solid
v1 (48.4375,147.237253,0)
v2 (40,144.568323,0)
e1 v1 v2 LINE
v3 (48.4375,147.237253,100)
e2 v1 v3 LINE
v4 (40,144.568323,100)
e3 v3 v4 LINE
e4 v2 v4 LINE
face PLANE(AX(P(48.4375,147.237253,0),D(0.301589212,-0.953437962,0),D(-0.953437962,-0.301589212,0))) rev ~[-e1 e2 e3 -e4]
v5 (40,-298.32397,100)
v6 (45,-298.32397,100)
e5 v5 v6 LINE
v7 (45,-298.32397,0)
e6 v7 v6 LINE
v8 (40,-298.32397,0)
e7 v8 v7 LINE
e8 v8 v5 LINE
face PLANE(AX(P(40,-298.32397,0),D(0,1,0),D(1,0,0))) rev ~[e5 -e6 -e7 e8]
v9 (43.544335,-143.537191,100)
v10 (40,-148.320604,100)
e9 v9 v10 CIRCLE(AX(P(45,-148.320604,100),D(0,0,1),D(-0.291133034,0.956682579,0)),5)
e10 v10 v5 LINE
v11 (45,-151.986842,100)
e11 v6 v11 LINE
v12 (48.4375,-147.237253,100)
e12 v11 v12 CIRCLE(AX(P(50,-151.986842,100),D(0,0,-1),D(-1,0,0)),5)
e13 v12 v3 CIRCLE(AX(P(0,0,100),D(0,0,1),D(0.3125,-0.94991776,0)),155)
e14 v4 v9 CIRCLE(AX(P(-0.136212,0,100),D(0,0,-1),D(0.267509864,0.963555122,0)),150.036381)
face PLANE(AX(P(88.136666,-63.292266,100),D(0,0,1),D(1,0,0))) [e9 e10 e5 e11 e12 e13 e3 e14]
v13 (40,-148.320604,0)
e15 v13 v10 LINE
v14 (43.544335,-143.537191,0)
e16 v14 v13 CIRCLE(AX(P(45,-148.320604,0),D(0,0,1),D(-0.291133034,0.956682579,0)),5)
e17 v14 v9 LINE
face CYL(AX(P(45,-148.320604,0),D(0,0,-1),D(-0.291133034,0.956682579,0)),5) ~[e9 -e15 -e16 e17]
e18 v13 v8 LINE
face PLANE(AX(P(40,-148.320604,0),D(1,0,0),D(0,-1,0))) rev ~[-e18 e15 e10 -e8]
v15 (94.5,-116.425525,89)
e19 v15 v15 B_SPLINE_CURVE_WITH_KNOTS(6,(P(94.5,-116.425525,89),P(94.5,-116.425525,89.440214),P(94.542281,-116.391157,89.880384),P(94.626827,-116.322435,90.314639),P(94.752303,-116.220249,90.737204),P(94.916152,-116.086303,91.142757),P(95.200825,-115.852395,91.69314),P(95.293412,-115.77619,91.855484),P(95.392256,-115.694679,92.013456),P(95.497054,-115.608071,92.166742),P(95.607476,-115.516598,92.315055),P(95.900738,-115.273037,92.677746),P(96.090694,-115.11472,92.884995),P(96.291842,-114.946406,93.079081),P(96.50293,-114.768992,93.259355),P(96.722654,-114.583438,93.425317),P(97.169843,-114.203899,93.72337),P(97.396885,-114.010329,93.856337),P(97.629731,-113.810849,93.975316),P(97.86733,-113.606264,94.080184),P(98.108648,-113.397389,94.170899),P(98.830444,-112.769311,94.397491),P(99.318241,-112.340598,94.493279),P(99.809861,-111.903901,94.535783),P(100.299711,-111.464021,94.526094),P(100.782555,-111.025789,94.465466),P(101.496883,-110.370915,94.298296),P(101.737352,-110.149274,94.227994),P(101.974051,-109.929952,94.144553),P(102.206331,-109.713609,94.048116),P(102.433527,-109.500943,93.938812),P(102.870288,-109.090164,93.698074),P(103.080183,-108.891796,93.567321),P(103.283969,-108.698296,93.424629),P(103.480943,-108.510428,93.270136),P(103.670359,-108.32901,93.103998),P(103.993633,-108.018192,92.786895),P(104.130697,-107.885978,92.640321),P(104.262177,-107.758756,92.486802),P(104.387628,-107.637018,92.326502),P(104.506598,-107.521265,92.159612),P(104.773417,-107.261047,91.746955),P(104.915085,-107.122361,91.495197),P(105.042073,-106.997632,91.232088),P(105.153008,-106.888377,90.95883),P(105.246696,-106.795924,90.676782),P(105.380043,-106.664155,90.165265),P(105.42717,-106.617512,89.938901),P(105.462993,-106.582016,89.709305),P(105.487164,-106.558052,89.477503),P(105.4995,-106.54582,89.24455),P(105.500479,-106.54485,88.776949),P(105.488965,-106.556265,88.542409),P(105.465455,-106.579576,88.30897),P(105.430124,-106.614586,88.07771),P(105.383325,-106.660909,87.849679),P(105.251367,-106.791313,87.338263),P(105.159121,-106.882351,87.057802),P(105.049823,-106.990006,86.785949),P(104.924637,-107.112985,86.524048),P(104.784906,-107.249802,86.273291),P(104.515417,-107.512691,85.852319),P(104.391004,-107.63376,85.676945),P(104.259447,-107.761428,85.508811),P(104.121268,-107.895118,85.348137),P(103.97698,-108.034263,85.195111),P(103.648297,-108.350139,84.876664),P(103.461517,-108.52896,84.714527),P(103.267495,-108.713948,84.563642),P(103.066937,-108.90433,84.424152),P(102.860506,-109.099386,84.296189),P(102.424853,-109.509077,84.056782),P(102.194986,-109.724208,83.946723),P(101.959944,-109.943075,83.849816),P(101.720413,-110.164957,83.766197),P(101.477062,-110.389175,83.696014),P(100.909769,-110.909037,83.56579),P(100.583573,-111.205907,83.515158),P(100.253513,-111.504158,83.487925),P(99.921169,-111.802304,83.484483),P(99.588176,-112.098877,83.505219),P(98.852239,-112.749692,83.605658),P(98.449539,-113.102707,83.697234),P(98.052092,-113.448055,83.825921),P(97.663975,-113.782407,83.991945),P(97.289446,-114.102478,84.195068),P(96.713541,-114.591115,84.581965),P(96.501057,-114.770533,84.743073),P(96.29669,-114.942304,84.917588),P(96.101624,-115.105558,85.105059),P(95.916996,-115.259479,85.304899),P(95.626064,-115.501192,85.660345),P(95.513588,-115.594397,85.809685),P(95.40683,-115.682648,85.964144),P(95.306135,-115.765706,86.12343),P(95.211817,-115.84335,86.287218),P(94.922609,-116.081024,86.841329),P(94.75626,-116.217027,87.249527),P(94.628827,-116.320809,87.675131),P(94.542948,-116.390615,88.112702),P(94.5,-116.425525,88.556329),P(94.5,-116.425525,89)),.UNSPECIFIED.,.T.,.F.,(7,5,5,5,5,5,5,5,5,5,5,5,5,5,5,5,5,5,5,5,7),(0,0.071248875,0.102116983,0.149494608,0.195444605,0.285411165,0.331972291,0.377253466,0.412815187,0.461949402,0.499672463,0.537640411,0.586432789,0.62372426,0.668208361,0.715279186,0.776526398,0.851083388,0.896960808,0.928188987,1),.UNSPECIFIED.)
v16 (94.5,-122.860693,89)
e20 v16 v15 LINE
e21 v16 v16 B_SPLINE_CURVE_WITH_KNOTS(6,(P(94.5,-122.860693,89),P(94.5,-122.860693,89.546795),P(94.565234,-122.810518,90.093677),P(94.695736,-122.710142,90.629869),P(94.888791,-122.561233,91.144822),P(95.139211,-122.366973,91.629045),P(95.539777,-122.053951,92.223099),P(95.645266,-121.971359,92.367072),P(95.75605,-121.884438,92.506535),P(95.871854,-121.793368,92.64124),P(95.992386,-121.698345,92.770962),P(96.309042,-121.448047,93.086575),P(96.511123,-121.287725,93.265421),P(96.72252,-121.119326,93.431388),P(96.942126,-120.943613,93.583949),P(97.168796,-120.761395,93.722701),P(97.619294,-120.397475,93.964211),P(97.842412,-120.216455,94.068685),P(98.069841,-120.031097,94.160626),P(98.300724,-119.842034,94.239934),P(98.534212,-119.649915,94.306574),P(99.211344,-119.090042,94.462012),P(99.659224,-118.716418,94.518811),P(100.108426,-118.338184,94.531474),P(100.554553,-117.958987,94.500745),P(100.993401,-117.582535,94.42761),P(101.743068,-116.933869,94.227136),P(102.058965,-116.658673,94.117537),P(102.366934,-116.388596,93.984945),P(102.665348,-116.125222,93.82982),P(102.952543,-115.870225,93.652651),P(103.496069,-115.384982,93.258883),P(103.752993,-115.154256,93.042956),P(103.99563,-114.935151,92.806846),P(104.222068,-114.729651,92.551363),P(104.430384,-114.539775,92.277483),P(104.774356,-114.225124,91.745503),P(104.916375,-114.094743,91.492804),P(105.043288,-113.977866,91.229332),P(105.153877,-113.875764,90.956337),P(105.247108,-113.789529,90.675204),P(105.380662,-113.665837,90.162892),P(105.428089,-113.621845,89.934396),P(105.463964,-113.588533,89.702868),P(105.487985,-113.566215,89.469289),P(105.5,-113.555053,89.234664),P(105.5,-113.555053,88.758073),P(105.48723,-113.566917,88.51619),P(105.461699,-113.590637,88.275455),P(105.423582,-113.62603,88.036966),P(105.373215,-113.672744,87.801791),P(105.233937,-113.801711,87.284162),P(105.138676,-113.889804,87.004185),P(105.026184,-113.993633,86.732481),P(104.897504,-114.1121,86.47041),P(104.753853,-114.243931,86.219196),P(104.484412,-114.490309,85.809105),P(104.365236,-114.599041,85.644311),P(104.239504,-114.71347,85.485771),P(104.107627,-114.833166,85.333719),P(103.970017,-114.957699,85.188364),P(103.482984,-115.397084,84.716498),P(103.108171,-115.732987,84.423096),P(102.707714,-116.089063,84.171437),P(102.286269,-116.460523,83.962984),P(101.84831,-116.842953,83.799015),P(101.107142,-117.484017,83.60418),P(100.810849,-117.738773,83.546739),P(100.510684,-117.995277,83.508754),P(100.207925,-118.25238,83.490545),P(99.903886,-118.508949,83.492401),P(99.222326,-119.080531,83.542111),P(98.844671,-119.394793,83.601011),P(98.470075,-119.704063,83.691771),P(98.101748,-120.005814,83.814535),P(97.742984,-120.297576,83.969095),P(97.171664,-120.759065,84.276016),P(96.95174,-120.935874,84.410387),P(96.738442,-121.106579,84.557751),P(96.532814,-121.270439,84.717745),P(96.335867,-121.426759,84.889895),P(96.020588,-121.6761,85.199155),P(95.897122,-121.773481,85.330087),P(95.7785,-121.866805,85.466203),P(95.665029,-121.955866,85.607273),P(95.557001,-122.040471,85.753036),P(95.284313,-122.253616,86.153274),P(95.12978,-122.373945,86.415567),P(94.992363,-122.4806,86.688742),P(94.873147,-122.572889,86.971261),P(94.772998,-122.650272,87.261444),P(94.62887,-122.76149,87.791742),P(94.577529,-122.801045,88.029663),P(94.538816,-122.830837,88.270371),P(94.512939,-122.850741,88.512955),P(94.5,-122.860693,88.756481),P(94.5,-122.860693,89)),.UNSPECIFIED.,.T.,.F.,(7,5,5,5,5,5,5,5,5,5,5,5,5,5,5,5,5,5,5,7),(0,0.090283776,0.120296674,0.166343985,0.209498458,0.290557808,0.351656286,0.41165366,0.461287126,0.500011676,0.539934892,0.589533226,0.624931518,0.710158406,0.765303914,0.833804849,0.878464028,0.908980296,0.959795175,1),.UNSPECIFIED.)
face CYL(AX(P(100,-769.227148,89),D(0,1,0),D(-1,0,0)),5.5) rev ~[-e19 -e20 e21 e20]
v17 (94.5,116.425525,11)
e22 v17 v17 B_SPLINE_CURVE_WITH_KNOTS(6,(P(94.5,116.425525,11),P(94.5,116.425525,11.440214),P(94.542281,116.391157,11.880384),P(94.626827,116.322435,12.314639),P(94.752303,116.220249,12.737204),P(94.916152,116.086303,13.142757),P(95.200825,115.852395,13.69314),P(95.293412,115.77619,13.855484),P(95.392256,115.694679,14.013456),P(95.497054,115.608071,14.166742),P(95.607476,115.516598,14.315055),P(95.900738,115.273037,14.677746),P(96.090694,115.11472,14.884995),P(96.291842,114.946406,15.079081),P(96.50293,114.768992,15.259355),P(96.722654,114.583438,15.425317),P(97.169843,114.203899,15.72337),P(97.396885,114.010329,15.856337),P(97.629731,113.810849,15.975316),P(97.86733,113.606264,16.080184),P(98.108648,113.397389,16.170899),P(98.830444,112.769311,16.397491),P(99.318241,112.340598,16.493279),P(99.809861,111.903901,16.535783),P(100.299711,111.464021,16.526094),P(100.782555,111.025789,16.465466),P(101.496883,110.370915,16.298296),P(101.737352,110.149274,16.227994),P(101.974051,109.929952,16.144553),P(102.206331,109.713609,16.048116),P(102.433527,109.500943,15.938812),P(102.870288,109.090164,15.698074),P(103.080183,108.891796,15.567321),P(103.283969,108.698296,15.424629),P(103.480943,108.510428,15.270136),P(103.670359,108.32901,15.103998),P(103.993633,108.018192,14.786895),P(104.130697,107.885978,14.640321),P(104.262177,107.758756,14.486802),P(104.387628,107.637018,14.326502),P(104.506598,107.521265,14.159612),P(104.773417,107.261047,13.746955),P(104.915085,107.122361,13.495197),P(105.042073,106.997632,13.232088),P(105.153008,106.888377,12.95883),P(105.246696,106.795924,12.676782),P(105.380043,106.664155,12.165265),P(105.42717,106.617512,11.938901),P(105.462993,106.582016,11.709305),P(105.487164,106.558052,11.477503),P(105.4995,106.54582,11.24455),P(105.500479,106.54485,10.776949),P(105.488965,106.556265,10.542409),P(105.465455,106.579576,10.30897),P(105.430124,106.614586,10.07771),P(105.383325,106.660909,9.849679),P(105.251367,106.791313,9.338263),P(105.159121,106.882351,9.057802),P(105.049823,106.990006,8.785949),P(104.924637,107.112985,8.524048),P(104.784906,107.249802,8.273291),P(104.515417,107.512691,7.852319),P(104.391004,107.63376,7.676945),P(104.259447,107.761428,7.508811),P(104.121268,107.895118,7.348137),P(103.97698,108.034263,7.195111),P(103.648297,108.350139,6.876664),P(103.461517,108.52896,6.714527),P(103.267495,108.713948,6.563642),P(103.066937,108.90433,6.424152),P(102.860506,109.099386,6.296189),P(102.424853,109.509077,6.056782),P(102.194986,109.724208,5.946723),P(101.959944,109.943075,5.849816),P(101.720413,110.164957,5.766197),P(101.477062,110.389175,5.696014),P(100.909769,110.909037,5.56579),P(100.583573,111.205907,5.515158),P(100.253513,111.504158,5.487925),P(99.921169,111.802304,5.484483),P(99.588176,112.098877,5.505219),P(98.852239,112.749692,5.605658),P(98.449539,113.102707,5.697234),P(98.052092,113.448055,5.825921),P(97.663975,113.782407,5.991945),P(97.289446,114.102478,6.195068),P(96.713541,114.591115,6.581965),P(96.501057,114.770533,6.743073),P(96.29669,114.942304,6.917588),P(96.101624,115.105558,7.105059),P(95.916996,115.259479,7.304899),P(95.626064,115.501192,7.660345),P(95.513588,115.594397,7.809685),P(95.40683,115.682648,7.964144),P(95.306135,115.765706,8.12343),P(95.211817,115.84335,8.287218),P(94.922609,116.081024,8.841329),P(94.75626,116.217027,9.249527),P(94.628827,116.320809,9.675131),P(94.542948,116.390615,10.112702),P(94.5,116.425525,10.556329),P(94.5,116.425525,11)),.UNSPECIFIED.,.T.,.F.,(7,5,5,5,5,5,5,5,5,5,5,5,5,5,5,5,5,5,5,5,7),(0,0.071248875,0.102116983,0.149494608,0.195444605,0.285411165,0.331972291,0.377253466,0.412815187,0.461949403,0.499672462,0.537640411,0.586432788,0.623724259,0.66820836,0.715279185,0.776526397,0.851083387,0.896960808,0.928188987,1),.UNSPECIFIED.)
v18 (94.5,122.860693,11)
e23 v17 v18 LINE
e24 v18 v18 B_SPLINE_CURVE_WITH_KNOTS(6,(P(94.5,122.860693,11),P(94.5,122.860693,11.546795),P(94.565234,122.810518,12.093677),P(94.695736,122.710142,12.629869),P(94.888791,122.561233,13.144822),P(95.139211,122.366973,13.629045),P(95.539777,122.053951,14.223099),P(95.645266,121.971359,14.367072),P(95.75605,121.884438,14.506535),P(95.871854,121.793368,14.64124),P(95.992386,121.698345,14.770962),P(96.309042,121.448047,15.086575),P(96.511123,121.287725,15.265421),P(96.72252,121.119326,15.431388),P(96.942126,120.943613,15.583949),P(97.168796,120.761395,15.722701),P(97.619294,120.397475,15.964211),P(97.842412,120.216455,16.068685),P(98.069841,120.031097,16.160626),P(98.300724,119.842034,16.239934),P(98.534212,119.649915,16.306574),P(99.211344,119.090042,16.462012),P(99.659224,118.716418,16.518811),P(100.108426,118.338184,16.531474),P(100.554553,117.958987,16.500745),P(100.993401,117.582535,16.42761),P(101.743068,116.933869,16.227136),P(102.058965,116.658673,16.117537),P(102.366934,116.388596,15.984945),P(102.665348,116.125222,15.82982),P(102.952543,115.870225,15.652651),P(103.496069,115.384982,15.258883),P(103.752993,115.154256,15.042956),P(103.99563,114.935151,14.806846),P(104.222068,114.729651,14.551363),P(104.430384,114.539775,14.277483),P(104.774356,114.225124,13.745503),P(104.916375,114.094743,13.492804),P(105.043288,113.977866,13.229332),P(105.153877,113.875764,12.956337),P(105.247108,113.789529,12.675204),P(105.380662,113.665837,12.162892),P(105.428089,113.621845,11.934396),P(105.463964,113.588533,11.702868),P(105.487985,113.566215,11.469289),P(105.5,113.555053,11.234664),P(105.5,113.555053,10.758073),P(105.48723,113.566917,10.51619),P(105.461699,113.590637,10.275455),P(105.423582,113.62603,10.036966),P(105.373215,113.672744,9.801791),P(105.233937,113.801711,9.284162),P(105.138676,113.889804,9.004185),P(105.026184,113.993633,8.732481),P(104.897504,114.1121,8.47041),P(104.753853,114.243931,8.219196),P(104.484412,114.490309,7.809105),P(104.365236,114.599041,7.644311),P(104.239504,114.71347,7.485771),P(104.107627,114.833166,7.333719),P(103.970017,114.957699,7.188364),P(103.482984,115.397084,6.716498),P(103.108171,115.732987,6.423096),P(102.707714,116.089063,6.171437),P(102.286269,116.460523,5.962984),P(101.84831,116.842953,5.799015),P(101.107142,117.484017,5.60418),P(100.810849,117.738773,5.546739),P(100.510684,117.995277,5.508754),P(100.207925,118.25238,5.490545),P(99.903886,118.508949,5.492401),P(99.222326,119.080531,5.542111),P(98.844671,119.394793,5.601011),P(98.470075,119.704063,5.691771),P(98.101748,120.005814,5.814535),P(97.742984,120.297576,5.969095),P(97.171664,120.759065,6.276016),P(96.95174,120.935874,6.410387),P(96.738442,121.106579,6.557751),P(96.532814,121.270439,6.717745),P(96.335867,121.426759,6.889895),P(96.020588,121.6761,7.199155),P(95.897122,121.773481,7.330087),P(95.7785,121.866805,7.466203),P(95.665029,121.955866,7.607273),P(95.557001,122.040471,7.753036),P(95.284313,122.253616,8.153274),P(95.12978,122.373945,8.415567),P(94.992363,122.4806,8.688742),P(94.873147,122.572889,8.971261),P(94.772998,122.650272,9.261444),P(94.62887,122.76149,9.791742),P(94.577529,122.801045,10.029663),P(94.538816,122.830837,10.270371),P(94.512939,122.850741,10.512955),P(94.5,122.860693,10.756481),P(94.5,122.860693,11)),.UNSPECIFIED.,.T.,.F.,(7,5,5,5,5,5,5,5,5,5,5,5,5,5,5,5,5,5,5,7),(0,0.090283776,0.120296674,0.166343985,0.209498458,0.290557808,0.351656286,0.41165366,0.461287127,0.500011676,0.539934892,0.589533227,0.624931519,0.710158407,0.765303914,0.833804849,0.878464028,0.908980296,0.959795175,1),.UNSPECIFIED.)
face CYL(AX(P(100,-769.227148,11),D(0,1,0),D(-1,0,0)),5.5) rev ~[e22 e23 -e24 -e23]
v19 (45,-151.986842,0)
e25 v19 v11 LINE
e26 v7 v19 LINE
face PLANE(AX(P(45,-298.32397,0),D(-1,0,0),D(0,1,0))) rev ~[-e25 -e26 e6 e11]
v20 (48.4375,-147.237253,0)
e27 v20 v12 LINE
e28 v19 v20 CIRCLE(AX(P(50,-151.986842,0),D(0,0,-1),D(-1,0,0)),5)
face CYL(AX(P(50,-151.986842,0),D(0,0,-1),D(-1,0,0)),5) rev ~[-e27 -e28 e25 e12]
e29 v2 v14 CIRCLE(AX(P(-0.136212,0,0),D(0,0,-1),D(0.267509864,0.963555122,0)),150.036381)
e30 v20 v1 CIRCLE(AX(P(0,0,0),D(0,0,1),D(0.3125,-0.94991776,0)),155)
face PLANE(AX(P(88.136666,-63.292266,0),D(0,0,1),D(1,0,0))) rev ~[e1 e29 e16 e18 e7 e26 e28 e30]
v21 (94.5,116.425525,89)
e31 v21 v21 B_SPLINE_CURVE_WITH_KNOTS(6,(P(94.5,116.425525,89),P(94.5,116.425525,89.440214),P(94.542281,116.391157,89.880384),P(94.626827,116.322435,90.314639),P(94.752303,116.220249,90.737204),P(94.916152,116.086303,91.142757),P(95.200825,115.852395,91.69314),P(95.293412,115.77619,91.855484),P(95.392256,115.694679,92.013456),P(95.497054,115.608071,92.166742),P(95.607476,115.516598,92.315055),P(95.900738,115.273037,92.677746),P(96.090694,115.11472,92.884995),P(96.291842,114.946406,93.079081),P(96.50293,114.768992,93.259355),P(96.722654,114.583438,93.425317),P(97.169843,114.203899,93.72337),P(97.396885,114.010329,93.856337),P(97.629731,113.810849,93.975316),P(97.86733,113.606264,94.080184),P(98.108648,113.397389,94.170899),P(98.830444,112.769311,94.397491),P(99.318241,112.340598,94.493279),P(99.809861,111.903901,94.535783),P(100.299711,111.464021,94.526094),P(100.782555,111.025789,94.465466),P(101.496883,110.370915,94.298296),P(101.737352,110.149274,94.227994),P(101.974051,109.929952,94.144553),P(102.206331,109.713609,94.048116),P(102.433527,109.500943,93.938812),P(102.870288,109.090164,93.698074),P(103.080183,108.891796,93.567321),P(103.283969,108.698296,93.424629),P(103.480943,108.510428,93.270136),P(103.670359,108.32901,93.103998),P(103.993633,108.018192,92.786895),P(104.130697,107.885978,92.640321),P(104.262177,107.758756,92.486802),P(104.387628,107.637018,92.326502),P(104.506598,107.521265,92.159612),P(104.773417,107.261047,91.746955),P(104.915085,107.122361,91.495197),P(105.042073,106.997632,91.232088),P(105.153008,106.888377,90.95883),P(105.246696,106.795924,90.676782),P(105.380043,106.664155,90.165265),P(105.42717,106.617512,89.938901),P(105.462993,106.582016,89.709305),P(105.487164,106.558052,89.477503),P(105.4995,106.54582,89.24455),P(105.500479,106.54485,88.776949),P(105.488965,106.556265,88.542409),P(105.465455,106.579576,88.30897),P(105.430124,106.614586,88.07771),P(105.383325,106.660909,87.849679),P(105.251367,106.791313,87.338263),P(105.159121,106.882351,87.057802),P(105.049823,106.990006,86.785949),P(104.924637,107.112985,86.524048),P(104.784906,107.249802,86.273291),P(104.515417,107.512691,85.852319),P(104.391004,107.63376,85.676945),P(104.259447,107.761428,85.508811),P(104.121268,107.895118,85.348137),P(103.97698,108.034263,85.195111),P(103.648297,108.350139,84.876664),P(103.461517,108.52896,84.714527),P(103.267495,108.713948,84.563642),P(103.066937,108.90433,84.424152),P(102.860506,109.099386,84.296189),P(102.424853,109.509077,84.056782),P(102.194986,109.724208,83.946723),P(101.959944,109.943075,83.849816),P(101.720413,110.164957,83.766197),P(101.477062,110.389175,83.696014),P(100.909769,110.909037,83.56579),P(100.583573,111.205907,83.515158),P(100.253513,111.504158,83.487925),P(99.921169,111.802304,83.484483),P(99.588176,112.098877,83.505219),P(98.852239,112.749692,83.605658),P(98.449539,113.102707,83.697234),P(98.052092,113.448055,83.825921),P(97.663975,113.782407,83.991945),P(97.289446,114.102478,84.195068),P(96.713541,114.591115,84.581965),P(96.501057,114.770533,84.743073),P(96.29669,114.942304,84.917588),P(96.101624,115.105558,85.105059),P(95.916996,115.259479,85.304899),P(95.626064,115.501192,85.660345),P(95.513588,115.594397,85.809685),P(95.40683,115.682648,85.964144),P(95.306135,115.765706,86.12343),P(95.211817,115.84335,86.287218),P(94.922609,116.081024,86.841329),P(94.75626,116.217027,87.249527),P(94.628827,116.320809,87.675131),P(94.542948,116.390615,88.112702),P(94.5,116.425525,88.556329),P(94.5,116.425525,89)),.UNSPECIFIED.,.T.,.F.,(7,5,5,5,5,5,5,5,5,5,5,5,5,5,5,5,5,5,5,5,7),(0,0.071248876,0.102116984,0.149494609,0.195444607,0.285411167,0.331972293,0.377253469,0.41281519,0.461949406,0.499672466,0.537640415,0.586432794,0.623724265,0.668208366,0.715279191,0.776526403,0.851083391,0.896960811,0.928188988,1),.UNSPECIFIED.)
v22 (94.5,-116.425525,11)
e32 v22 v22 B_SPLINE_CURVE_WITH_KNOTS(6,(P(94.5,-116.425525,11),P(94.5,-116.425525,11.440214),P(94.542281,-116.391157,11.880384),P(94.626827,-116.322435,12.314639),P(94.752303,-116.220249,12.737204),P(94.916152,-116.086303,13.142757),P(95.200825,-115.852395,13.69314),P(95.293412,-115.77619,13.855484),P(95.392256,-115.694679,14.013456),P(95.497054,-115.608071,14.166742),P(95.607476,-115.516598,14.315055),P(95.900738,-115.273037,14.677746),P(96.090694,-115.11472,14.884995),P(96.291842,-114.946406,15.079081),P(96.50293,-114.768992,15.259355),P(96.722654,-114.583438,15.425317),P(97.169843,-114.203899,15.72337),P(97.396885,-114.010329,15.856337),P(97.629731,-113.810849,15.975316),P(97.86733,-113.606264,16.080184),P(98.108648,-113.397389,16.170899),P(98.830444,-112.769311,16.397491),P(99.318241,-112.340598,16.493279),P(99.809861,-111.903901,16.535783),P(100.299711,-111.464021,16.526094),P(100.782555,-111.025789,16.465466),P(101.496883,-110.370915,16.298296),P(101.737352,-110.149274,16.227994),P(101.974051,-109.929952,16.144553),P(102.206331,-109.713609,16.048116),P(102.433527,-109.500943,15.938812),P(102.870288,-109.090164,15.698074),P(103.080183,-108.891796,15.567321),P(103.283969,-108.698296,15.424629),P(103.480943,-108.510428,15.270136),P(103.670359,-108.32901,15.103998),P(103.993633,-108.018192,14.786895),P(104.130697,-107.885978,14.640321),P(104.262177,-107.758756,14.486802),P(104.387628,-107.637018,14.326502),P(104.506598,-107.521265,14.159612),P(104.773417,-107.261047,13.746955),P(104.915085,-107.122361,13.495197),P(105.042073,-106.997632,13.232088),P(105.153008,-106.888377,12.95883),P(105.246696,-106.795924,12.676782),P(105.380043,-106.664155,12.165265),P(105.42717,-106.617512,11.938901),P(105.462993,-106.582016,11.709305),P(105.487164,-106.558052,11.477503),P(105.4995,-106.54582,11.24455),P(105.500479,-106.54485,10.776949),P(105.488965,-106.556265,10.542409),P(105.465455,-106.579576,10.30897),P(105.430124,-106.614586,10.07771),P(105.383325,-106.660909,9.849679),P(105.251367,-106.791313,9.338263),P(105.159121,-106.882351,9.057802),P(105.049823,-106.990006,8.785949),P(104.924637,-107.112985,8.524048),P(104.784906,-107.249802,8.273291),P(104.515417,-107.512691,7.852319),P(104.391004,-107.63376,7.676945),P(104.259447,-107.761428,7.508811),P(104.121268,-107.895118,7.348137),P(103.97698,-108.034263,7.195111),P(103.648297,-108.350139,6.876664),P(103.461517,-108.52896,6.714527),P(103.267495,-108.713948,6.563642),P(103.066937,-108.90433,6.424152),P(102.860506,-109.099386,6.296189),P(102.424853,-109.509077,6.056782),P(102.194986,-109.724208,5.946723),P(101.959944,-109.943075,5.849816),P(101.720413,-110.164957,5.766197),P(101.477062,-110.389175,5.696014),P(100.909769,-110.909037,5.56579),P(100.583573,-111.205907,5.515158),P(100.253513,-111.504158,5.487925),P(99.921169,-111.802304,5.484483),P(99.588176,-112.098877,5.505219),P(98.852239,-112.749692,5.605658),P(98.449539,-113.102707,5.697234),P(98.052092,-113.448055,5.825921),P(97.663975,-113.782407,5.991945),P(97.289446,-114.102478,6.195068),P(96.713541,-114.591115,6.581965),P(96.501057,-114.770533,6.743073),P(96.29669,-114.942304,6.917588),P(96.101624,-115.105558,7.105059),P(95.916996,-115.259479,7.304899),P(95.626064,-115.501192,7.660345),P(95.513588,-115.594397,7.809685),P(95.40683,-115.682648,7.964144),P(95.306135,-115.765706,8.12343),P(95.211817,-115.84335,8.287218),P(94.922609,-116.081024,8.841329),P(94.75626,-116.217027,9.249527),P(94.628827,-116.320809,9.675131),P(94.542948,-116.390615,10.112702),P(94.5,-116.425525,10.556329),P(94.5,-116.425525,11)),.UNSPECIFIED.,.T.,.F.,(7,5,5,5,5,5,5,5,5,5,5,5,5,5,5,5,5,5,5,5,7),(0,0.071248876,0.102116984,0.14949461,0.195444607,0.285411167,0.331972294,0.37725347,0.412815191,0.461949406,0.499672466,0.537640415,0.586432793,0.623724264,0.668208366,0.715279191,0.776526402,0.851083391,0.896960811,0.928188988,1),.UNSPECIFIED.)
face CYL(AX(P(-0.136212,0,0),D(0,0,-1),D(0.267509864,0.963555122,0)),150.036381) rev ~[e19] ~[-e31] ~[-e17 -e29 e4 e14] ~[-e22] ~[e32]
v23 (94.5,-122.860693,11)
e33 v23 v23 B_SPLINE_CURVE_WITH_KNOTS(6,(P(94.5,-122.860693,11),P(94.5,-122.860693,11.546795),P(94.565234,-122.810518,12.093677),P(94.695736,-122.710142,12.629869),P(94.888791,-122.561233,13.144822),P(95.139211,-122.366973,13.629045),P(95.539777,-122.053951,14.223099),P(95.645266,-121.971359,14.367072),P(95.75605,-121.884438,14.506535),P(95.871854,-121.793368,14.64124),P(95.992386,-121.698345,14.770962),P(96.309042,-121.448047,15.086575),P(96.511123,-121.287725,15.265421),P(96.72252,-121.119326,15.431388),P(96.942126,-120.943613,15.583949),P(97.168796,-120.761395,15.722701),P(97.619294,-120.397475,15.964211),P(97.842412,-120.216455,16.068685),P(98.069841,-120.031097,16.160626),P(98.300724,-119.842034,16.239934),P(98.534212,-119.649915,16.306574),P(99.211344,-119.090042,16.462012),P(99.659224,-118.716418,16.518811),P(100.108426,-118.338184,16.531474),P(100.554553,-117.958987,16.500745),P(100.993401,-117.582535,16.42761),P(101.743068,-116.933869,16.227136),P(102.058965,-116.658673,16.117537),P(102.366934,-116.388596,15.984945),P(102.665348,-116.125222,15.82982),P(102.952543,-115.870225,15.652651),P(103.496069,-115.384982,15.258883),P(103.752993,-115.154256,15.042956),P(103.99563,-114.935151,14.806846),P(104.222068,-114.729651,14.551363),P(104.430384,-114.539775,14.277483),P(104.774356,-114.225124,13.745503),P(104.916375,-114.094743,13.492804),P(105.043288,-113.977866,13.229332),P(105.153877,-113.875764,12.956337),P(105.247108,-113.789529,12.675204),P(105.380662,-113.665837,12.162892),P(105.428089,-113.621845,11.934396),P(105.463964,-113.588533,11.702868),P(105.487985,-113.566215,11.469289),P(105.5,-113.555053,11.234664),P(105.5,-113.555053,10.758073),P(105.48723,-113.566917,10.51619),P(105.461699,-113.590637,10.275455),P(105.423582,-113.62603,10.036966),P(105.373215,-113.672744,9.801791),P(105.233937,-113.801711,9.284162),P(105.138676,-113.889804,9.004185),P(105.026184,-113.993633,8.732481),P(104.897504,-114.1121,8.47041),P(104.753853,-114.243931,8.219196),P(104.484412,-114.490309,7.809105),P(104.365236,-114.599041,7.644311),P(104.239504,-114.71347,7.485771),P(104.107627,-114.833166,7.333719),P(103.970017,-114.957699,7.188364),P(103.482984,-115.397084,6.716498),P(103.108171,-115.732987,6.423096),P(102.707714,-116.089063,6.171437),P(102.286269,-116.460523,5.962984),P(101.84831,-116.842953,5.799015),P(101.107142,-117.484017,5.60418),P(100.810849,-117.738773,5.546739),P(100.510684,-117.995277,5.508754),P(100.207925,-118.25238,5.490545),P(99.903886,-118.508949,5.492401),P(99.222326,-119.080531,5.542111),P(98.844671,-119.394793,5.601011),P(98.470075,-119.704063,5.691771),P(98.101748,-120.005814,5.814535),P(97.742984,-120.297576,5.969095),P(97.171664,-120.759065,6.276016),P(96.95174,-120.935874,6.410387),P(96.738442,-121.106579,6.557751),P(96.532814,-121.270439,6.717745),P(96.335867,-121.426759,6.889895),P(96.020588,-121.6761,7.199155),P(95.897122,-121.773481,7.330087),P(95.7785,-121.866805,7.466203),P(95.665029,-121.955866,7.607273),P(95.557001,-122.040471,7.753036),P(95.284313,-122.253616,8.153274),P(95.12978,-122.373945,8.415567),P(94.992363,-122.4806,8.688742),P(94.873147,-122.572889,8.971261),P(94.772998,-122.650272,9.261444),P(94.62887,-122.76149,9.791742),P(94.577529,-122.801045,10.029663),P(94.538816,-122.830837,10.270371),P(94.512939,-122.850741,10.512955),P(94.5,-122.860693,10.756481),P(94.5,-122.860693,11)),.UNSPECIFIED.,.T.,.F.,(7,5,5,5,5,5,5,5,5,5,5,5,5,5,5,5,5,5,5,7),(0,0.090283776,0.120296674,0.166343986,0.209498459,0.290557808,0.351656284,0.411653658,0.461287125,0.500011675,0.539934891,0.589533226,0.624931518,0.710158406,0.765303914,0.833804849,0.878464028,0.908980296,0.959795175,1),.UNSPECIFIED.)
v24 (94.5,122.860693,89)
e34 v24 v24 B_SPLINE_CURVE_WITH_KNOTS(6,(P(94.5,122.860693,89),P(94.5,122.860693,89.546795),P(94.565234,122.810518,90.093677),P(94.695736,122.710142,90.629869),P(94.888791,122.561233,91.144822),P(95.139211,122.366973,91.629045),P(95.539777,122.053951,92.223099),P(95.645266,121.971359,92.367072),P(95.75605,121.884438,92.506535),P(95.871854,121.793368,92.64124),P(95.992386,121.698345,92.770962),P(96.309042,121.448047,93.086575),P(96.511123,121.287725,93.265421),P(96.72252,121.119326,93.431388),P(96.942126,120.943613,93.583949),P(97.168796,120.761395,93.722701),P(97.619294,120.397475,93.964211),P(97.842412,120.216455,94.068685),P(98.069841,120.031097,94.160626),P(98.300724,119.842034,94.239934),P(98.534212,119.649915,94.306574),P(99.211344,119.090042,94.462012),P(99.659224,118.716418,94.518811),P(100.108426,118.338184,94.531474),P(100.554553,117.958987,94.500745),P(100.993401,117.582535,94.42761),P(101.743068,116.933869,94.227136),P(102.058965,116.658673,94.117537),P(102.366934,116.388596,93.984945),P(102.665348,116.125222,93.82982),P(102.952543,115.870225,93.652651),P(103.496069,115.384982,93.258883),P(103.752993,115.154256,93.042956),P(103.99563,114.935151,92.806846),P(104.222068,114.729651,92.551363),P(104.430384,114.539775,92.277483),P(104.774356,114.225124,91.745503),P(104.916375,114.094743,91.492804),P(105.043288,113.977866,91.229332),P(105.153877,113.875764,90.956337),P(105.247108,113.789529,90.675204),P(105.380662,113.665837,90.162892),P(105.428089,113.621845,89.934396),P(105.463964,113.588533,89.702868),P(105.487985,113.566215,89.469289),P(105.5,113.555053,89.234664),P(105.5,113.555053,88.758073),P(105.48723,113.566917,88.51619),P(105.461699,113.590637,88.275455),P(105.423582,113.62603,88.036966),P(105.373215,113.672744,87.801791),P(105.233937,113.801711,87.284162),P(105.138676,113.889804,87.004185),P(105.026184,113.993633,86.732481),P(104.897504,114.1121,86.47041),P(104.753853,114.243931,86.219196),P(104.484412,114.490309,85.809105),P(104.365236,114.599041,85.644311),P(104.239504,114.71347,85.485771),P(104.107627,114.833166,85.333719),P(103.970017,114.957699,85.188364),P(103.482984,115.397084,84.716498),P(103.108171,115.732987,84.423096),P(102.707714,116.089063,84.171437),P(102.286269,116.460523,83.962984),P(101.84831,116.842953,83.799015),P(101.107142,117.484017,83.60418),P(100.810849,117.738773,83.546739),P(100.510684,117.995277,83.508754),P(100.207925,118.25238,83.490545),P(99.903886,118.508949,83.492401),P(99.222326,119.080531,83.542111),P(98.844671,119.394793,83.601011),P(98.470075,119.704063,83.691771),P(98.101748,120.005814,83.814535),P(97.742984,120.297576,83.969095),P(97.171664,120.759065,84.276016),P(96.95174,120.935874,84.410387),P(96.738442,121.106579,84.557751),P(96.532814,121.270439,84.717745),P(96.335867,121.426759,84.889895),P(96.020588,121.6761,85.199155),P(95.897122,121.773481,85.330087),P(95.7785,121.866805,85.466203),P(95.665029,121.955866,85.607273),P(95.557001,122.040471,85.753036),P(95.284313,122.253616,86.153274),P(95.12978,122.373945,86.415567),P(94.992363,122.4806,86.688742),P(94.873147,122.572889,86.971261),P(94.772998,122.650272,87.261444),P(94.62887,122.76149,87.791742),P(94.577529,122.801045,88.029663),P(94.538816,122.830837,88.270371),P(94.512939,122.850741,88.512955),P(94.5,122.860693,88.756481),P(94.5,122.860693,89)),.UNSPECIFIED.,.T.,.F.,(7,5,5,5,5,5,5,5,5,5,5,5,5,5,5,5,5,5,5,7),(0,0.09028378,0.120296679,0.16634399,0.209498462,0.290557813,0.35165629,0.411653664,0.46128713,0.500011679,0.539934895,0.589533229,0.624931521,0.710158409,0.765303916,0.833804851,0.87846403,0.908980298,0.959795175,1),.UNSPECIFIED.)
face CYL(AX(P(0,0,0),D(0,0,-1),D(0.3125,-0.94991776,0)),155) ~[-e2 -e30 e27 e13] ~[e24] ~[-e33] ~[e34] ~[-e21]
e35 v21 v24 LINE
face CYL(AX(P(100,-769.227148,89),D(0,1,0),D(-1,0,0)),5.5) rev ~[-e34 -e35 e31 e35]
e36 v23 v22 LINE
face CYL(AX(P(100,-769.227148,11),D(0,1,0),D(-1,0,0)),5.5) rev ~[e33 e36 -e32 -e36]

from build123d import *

# Parameters (mm, degrees)
F1_DEPTH = 100
F3_D     = 11


with BuildPart() as f1:
    # F0 (on Top) → F1 (new body)
    with BuildSketch(Plane.XY):
        with BuildLine():
            Line((45, -298.3239697419), (45, -151.9868415357))
            ThreePointArc((45, -151.9868415357), (45.9495370635, -149.0553316858), (48.4375, -147.2372527377))
            ThreePointArc((48.4375, -147.2372527377), (155, 0), (48.4375, 147.2372527377))
            Line((48.4375, 147.2372527377), (40, 144.568322948))
            ThreePointArc((40, 144.568322948), (149.8888164954, 1.8456395549), (43.5443348323, -143.5371914998))
            ThreePointArc((43.5443348323, -143.5371914998), (40.9826422963, -145.343888573), (40, -148.3206043943))
            Line((40, -148.3206043943), (40, -298.3239697419))
            Line((40, -298.3239697419), (45, -298.3239697419))
        make_face()
    extrude(amount=F1_DEPTH)

    # F3 (through all)
    with Locations(Plane.XZ.offset(298.3239697419)):
        with Locations((100, 89), (100, 11)):
            Hole(F3_D / 2)


solid = f1.part
